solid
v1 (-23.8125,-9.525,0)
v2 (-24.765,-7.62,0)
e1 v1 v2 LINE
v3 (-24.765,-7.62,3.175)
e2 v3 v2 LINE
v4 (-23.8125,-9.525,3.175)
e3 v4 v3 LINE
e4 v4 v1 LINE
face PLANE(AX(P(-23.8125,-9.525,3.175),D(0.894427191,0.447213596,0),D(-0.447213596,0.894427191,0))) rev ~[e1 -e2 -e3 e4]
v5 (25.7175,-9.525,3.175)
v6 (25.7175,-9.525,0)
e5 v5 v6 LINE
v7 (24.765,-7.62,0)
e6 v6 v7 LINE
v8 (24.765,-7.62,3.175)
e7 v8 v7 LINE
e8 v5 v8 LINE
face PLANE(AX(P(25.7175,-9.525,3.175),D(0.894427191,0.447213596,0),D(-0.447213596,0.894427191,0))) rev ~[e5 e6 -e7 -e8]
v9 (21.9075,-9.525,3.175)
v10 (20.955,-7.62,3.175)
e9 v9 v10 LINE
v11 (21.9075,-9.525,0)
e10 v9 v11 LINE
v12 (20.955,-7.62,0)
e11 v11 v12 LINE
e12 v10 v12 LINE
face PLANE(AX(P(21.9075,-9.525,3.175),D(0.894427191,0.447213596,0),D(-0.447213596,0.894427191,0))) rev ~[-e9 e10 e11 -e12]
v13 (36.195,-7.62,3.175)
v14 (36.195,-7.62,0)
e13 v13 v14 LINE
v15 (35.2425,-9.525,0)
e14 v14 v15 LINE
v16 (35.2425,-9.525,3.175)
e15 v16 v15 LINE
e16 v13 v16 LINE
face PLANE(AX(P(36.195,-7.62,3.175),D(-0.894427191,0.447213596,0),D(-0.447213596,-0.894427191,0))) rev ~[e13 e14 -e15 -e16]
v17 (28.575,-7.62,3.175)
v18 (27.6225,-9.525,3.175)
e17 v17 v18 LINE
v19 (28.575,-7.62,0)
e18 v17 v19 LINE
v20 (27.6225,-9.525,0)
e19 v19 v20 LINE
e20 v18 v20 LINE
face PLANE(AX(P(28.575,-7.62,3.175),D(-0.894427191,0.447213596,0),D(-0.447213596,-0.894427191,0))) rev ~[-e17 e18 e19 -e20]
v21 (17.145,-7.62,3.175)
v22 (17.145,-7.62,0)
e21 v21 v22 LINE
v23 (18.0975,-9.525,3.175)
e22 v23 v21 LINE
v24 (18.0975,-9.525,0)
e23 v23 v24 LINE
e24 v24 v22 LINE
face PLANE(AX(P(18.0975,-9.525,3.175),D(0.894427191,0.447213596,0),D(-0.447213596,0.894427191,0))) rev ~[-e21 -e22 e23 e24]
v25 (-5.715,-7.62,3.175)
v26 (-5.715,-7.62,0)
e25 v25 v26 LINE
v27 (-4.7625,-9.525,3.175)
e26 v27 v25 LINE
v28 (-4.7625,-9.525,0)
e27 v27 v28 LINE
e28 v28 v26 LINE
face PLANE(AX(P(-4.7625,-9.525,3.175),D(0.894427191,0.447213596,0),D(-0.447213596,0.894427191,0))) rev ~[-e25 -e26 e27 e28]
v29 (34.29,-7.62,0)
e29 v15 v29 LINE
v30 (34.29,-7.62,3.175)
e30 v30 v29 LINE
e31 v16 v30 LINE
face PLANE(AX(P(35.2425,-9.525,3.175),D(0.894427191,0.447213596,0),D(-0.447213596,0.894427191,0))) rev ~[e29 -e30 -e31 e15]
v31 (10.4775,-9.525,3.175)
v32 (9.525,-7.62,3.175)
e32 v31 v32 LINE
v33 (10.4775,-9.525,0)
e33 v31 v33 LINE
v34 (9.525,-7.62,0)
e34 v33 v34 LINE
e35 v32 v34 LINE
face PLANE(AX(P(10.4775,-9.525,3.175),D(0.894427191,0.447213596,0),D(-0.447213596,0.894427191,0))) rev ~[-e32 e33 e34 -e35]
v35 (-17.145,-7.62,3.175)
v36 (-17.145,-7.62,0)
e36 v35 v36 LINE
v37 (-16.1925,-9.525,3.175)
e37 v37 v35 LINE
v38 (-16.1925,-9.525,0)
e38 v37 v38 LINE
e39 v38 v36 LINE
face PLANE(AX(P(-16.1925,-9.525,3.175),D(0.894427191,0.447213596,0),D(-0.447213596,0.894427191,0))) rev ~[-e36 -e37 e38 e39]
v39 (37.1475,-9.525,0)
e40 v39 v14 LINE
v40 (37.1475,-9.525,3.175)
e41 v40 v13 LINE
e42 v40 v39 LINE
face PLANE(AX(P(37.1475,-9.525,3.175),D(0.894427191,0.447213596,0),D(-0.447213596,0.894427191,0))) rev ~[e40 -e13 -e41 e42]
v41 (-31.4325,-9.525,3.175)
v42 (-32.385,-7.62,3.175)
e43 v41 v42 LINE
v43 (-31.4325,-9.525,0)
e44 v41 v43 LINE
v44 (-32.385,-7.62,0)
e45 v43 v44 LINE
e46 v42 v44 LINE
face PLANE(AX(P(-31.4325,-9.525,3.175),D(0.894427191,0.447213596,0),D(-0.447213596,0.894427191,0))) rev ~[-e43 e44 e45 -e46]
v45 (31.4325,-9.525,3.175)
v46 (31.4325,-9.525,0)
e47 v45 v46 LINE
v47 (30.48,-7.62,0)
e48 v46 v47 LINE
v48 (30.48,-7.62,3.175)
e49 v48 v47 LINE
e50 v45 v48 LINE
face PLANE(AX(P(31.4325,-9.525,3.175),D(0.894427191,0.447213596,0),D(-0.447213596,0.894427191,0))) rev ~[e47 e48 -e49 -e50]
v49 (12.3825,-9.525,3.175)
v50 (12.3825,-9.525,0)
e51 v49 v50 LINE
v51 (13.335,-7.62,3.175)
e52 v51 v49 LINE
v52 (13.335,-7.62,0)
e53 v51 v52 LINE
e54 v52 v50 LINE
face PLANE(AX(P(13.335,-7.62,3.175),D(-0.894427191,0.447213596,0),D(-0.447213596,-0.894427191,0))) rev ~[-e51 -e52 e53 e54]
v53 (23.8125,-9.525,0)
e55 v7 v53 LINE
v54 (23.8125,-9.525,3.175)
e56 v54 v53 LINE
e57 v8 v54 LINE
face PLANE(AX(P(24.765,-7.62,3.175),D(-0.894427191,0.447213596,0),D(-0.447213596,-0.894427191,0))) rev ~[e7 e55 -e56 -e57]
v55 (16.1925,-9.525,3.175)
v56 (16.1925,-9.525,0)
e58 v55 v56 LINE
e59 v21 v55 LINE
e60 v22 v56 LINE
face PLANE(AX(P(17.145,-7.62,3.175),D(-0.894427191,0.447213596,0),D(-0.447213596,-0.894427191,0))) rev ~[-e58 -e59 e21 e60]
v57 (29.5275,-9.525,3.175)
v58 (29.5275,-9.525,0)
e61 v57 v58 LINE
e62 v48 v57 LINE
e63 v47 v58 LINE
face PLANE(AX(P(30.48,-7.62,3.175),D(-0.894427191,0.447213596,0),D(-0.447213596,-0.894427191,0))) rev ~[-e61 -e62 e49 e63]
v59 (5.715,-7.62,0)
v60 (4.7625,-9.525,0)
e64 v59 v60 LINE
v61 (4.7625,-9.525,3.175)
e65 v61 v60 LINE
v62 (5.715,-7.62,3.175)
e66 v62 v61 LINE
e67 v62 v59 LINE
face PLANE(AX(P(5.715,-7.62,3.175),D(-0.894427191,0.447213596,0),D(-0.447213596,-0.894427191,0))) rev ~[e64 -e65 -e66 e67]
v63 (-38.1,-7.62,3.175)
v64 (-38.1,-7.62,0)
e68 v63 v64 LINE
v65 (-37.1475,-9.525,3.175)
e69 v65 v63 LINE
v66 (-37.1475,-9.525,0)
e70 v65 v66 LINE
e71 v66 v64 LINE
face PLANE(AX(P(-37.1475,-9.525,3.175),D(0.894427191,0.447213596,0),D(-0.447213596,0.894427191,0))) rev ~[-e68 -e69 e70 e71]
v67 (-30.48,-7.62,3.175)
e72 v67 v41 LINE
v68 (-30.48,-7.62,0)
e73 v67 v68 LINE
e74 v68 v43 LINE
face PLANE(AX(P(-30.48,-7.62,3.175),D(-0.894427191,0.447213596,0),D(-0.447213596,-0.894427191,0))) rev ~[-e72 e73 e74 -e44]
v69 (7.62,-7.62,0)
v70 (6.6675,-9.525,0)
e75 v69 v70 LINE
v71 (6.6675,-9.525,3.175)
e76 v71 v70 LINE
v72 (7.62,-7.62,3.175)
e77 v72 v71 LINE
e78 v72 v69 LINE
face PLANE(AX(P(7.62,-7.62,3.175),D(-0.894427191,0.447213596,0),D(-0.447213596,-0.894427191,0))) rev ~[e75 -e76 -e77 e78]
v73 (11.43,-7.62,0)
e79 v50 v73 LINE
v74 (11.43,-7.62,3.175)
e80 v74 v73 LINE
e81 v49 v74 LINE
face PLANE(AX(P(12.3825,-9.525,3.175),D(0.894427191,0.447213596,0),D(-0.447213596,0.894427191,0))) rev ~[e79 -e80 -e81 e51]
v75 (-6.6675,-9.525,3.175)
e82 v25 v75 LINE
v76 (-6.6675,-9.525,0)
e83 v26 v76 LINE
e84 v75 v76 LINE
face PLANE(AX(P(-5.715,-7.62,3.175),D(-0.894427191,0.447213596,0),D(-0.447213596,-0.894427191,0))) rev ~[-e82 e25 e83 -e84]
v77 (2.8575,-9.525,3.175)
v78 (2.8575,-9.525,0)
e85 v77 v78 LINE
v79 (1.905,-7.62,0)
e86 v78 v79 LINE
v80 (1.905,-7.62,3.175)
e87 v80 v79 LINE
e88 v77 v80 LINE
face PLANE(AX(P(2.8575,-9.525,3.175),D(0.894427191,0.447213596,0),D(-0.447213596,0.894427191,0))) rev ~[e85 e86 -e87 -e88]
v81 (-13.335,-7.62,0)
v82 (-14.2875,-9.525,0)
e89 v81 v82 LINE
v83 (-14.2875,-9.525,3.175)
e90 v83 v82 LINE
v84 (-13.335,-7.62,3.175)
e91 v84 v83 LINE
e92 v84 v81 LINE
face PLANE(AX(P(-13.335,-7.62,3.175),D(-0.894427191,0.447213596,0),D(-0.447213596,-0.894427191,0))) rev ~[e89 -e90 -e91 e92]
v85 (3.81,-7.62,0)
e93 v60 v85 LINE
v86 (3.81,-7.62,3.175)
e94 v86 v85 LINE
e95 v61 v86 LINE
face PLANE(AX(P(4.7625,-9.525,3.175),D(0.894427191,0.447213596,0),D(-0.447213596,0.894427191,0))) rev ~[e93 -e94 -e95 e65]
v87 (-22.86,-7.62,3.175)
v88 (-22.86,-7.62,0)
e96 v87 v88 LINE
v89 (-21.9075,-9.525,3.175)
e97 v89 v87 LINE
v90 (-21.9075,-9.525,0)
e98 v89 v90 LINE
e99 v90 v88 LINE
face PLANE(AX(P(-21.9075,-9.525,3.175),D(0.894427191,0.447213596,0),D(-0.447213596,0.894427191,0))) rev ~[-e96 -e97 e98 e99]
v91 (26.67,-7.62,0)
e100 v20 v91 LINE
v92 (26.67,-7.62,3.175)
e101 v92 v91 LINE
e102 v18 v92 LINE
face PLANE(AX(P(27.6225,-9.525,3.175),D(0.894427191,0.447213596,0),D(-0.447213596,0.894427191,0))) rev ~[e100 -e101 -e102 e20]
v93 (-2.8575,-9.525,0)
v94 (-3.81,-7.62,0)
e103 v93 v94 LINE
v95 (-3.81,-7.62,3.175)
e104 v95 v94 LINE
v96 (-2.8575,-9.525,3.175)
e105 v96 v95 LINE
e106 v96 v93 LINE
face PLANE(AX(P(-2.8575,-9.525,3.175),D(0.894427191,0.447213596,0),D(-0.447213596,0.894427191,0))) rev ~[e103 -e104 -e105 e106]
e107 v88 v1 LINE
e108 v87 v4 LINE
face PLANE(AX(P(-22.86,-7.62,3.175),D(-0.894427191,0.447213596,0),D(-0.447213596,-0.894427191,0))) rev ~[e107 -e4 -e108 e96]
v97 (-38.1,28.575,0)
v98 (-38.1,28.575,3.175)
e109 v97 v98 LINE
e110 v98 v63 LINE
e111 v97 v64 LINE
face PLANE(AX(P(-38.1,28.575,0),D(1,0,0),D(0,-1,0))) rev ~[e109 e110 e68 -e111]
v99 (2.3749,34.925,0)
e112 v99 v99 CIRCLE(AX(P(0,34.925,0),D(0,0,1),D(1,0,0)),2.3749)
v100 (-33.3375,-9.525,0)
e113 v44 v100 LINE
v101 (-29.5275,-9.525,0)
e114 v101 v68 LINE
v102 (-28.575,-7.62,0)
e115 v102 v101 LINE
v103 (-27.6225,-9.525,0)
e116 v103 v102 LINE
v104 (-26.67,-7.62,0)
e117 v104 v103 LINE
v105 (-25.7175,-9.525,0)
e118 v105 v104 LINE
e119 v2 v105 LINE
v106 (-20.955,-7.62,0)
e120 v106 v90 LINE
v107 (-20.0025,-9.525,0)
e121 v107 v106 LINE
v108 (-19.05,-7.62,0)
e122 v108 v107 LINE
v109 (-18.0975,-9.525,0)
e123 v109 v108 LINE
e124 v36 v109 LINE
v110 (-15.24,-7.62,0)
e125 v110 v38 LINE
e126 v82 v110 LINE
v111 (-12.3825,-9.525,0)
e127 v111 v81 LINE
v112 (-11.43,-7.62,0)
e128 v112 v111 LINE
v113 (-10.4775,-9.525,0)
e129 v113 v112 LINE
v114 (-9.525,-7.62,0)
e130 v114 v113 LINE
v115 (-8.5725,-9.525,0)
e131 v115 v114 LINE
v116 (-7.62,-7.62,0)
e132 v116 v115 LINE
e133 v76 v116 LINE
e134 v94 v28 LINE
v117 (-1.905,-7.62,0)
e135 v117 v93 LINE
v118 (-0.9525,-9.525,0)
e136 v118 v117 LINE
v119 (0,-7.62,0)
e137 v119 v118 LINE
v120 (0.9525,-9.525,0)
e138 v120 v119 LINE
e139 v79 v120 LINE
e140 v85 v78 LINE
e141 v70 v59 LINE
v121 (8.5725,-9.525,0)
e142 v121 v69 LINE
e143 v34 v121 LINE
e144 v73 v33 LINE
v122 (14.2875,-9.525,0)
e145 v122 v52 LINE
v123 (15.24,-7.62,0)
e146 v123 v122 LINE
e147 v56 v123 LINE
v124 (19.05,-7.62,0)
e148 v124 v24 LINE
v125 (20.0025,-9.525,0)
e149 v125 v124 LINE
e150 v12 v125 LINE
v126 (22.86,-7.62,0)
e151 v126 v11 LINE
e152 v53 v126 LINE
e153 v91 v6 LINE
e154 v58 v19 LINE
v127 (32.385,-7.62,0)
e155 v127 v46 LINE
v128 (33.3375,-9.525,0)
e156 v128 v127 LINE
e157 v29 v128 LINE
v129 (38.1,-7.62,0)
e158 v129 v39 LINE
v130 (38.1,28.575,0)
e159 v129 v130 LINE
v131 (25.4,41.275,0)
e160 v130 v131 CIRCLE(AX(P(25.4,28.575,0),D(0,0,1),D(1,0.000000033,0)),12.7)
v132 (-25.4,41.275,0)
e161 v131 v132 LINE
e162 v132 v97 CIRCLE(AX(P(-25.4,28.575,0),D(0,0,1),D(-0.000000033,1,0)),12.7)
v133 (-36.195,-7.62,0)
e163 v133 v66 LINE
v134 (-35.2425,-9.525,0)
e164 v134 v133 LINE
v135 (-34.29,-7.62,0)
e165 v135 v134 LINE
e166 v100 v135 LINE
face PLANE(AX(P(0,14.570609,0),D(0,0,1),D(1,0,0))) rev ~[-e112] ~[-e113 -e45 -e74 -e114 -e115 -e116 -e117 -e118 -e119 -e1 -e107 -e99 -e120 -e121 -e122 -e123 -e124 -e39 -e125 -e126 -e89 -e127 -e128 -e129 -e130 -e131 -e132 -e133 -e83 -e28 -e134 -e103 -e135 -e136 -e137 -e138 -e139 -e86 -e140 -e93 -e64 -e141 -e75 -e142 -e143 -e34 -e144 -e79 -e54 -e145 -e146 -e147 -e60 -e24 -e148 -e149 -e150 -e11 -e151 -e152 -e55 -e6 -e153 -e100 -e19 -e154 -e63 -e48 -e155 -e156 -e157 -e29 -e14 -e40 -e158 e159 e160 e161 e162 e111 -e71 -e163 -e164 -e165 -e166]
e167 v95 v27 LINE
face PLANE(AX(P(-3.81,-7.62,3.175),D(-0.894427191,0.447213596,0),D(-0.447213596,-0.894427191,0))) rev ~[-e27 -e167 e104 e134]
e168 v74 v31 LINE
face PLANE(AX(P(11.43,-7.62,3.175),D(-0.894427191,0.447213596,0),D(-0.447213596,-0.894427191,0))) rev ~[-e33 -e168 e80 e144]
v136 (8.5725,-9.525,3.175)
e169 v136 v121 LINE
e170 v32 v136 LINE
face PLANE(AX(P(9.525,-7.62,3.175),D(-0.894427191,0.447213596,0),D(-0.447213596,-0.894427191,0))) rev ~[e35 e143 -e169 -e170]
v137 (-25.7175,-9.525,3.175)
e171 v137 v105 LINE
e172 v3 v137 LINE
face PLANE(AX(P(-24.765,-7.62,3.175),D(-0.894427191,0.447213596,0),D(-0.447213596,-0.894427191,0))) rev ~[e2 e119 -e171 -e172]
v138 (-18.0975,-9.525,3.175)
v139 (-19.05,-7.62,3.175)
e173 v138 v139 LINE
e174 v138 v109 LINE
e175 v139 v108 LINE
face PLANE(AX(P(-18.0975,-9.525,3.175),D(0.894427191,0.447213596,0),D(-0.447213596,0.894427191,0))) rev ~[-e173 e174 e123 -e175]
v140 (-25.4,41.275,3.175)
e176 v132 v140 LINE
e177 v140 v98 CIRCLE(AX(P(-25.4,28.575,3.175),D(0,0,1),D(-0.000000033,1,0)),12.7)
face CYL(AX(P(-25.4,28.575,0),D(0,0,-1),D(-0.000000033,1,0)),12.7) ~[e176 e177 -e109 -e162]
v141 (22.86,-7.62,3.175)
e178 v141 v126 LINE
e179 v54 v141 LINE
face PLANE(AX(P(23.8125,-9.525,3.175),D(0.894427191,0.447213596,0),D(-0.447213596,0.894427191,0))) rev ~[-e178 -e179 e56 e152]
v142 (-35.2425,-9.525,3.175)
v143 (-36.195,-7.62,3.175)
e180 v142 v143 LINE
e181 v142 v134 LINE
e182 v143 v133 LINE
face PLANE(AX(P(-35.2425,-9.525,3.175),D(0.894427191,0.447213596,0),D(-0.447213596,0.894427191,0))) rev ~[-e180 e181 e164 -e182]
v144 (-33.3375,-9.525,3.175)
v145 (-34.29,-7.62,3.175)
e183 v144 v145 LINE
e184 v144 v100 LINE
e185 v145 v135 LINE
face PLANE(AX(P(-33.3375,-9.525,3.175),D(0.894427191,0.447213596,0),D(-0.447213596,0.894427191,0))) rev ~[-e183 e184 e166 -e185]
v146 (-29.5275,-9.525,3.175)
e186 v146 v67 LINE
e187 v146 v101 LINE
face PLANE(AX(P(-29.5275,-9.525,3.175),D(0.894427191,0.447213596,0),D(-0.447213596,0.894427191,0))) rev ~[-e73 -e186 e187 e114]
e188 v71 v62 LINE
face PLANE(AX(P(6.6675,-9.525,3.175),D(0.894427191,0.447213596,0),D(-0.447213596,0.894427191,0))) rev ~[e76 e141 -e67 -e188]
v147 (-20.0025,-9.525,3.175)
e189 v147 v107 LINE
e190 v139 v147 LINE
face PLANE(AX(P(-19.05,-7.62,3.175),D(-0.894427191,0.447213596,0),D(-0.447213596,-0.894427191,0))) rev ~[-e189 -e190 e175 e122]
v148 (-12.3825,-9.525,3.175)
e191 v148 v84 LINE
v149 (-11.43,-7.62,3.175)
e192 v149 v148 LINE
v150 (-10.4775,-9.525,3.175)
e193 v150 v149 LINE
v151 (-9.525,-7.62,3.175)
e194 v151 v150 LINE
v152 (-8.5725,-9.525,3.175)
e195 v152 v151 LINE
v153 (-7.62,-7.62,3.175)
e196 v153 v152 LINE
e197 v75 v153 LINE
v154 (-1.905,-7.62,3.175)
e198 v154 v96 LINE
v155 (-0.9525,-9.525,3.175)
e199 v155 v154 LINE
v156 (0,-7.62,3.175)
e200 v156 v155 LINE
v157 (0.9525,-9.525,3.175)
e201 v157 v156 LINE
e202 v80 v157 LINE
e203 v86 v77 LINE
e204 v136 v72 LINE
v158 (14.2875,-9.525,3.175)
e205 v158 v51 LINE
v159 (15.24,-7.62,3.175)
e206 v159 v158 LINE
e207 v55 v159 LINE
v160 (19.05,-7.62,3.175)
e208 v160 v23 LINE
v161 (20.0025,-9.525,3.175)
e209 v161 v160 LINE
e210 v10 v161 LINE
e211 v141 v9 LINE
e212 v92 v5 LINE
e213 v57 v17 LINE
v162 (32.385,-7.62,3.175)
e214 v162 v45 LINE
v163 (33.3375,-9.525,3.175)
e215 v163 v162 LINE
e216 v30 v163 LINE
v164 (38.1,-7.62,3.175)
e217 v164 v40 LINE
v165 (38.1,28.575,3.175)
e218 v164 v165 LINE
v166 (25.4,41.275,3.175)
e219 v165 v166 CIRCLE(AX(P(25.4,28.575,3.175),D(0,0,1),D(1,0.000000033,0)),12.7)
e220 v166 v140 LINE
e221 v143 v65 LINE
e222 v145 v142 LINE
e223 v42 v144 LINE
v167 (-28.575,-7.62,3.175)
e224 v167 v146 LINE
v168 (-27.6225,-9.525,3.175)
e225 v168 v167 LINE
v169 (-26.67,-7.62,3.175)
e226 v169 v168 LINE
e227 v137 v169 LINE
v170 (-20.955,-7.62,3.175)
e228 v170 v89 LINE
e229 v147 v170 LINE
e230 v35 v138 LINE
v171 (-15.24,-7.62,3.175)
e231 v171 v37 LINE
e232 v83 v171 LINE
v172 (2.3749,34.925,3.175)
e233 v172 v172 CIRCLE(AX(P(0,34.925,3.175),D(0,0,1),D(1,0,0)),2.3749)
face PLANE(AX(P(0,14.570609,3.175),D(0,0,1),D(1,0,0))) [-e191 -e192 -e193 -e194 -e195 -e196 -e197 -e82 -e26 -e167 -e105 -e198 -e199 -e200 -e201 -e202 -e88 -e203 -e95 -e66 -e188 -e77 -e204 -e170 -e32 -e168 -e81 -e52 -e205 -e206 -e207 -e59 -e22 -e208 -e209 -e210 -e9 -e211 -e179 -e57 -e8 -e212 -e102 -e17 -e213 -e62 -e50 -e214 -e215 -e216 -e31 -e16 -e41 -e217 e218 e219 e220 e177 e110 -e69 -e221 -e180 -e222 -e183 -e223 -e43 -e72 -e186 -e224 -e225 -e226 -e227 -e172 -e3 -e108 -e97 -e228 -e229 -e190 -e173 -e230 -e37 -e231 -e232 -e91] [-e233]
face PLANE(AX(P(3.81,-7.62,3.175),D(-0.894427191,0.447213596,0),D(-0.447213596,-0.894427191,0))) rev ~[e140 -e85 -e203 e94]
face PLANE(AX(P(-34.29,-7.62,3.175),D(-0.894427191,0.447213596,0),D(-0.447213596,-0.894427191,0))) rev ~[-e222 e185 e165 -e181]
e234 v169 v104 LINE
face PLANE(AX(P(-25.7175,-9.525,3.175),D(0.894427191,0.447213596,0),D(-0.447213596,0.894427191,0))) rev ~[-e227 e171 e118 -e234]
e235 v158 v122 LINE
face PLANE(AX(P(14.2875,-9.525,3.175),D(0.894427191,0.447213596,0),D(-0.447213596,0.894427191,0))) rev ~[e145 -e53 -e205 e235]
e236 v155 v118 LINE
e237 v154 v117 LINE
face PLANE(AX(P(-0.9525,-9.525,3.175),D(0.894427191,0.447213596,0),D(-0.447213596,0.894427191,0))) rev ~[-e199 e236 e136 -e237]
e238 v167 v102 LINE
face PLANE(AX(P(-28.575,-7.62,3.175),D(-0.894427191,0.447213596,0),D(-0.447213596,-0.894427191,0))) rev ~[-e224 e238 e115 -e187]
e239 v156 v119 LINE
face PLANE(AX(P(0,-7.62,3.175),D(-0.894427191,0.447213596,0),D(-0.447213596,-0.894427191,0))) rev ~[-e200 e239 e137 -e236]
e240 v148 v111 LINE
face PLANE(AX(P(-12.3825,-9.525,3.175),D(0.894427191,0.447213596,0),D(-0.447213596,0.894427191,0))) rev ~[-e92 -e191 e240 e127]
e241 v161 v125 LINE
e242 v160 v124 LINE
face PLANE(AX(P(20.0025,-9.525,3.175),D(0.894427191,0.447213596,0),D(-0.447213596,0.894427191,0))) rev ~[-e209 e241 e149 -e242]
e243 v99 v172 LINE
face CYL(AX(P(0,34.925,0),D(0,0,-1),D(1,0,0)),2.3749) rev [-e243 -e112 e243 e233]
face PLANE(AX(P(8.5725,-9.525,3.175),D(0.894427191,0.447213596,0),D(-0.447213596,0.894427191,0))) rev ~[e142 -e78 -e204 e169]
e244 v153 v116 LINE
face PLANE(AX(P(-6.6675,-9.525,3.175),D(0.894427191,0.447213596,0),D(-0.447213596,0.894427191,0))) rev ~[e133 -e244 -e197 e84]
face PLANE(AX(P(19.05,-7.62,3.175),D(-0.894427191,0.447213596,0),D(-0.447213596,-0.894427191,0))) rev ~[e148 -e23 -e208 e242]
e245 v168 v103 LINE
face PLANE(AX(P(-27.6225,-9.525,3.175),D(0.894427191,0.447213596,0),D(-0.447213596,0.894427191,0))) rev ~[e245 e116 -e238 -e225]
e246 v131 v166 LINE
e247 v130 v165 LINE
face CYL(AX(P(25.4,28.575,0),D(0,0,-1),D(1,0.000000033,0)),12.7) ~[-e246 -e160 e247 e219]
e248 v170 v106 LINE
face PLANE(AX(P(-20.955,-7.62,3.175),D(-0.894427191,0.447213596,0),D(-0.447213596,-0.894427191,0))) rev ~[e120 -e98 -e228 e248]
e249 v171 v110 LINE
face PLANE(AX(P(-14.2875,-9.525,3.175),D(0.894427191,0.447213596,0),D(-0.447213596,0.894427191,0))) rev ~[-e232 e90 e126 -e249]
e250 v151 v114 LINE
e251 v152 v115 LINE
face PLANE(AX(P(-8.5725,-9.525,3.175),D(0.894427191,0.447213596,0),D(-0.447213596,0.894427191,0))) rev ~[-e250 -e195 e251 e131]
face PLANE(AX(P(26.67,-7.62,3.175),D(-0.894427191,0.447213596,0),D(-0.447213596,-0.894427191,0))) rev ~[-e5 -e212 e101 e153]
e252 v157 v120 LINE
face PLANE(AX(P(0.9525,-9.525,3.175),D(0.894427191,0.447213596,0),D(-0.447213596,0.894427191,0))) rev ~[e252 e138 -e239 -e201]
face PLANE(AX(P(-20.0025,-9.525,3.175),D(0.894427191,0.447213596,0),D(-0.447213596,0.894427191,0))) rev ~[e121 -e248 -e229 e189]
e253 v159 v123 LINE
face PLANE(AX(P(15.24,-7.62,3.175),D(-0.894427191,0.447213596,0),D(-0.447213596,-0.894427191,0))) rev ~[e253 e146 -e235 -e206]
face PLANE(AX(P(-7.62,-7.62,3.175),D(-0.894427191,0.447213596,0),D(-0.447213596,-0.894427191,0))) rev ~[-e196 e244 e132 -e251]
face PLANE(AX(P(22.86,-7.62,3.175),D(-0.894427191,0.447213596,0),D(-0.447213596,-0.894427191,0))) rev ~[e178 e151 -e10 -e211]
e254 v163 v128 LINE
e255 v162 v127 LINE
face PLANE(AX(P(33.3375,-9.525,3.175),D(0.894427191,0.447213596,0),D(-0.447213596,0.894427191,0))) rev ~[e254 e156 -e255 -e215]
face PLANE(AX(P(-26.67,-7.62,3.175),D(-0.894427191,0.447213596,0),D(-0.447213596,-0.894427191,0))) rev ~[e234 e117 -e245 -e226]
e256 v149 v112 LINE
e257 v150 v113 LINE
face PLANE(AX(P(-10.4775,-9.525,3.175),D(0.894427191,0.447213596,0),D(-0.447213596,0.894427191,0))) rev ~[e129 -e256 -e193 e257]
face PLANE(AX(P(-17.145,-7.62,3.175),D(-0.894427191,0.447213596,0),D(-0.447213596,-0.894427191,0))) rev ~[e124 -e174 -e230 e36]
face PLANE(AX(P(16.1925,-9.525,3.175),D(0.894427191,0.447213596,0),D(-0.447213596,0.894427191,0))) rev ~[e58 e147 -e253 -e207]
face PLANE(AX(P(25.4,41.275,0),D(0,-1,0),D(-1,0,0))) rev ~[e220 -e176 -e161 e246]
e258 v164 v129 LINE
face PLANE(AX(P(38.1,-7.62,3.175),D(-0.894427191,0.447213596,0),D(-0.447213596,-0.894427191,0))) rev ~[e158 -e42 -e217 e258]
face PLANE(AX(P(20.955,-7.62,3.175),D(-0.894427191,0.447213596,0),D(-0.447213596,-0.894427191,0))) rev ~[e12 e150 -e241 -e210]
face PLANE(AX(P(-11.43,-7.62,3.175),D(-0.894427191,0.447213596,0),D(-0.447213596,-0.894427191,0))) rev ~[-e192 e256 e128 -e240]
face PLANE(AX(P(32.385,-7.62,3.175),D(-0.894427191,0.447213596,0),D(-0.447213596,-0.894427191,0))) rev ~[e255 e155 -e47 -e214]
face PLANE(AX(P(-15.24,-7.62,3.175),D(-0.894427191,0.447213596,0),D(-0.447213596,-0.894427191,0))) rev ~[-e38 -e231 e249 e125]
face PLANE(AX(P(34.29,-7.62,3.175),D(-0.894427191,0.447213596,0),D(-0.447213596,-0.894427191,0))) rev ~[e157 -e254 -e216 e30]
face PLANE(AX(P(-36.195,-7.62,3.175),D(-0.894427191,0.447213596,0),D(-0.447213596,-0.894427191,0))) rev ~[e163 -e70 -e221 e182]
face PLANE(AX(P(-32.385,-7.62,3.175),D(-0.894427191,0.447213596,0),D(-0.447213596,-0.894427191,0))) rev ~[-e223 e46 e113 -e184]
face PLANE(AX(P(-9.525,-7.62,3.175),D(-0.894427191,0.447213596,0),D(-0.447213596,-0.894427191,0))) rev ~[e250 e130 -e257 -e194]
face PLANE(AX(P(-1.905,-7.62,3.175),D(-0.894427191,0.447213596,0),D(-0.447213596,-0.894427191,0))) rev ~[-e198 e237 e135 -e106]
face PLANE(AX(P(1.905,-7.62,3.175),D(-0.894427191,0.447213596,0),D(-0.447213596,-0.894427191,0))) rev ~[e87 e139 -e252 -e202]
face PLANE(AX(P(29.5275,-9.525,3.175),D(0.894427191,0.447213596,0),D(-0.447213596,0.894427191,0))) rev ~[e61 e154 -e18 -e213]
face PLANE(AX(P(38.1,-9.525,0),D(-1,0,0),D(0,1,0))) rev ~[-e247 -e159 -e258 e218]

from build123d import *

# Parameters (mm, degrees)
F0_R     = 2.3749
F1_DEPTH = 3.175
F3_DEPTH = 25.4


with BuildPart() as f1:
    # F0 (on Top) → F1 (new body)
    with BuildSketch(Plane.XY):
        with BuildLine():
            Line((-38.1, -9.525), (38.1, -9.525))
            Line((38.1, -9.525), (38.1, 28.575))
            ThreePointArc((38.1, 28.575), (34.380256, 37.555256), (25.4, 41.275))
            Line((25.4, 41.275), (3.322108, 41.275))
            Line((3.322108, 41.275), (-25.4, 41.275))
            ThreePointArc((-25.4, 41.275), (-34.380256, 37.555256), (-38.1, 28.575))
            Line((-38.1, 28.575), (-38.1, -9.525))
        make_face()
        with Locations((0, 34.925)):
            Circle(F0_R, mode=Mode.SUBTRACT)
    extrude(amount=F1_DEPTH)

    # F2 (on face) → F3 (cut)
    with BuildSketch(Plane.XY.offset(3.175)):
        Polygon((-38.1, -7.62), (-38.1, -14.148636), (38.1, -14.148636), (38.1, -7.62), (37.1475, -9.525), (36.195, -7.62), (35.2425, -9.525), (34.29, -7.62), (33.3375, -9.525), (32.385, -7.62), (31.4325, -9.525), (30.48, -7.62), (29.5275, -9.525), (28.575, -7.62), (27.6225, -9.525), (26.67, -7.62), (25.7175, -9.525), (24.765, -7.62), (23.8125, -9.525), (22.86, -7.62), (21.9075, -9.525), (20.955, -7.62), (20.0025, -9.525), (19.05, -7.62), (18.0975, -9.525), (17.145, -7.62), (16.1925, -9.525), (15.24, -7.62), (14.2875, -9.525), (13.335, -7.62), (12.3825, -9.525), (11.43, -7.62), (10.4775, -9.525), (9.525, -7.62), (8.5725, -9.525), (7.62, -7.62), (6.6675, -9.525), (5.715, -7.62), (4.7625, -9.525), (3.81, -7.62), (2.8575, -9.525), (1.905, -7.62), (0.9525, -9.525), (0, -7.62), (-0.9525, -9.525), (-1.905, -7.62), (-2.8575, -9.525), (-3.81, -7.62), (-4.7625, -9.525), (-5.715, -7.62), (-6.6675, -9.525), (-7.62, -7.62), (-8.5725, -9.525), (-9.525, -7.62), (-10.4775, -9.525), (-11.43, -7.62), (-12.3825, -9.525), (-13.335, -7.62), (-14.2875, -9.525), (-15.24, -7.62), (-16.1925, -9.525), (-17.145, -7.62), (-18.0975, -9.525), (-19.05, -7.62), (-20.0025, -9.525), (-20.955, -7.62), (-21.9075, -9.525), (-22.86, -7.62), (-23.8125, -9.525), (-24.765, -7.62), (-25.7175, -9.525), (-26.67, -7.62), (-27.6225, -9.525), (-28.575, -7.62), (-29.5275, -9.525), (-30.48, -7.62), (-31.4325, -9.525), (-32.385, -7.62), (-33.3375, -9.525), (-34.29, -7.62), (-35.2425, -9.525), (-36.195, -7.62), (-37.1475, -9.525), align=None)
    extrude(amount=-F3_DEPTH, mode=Mode.SUBTRACT)


solid = f1.part
